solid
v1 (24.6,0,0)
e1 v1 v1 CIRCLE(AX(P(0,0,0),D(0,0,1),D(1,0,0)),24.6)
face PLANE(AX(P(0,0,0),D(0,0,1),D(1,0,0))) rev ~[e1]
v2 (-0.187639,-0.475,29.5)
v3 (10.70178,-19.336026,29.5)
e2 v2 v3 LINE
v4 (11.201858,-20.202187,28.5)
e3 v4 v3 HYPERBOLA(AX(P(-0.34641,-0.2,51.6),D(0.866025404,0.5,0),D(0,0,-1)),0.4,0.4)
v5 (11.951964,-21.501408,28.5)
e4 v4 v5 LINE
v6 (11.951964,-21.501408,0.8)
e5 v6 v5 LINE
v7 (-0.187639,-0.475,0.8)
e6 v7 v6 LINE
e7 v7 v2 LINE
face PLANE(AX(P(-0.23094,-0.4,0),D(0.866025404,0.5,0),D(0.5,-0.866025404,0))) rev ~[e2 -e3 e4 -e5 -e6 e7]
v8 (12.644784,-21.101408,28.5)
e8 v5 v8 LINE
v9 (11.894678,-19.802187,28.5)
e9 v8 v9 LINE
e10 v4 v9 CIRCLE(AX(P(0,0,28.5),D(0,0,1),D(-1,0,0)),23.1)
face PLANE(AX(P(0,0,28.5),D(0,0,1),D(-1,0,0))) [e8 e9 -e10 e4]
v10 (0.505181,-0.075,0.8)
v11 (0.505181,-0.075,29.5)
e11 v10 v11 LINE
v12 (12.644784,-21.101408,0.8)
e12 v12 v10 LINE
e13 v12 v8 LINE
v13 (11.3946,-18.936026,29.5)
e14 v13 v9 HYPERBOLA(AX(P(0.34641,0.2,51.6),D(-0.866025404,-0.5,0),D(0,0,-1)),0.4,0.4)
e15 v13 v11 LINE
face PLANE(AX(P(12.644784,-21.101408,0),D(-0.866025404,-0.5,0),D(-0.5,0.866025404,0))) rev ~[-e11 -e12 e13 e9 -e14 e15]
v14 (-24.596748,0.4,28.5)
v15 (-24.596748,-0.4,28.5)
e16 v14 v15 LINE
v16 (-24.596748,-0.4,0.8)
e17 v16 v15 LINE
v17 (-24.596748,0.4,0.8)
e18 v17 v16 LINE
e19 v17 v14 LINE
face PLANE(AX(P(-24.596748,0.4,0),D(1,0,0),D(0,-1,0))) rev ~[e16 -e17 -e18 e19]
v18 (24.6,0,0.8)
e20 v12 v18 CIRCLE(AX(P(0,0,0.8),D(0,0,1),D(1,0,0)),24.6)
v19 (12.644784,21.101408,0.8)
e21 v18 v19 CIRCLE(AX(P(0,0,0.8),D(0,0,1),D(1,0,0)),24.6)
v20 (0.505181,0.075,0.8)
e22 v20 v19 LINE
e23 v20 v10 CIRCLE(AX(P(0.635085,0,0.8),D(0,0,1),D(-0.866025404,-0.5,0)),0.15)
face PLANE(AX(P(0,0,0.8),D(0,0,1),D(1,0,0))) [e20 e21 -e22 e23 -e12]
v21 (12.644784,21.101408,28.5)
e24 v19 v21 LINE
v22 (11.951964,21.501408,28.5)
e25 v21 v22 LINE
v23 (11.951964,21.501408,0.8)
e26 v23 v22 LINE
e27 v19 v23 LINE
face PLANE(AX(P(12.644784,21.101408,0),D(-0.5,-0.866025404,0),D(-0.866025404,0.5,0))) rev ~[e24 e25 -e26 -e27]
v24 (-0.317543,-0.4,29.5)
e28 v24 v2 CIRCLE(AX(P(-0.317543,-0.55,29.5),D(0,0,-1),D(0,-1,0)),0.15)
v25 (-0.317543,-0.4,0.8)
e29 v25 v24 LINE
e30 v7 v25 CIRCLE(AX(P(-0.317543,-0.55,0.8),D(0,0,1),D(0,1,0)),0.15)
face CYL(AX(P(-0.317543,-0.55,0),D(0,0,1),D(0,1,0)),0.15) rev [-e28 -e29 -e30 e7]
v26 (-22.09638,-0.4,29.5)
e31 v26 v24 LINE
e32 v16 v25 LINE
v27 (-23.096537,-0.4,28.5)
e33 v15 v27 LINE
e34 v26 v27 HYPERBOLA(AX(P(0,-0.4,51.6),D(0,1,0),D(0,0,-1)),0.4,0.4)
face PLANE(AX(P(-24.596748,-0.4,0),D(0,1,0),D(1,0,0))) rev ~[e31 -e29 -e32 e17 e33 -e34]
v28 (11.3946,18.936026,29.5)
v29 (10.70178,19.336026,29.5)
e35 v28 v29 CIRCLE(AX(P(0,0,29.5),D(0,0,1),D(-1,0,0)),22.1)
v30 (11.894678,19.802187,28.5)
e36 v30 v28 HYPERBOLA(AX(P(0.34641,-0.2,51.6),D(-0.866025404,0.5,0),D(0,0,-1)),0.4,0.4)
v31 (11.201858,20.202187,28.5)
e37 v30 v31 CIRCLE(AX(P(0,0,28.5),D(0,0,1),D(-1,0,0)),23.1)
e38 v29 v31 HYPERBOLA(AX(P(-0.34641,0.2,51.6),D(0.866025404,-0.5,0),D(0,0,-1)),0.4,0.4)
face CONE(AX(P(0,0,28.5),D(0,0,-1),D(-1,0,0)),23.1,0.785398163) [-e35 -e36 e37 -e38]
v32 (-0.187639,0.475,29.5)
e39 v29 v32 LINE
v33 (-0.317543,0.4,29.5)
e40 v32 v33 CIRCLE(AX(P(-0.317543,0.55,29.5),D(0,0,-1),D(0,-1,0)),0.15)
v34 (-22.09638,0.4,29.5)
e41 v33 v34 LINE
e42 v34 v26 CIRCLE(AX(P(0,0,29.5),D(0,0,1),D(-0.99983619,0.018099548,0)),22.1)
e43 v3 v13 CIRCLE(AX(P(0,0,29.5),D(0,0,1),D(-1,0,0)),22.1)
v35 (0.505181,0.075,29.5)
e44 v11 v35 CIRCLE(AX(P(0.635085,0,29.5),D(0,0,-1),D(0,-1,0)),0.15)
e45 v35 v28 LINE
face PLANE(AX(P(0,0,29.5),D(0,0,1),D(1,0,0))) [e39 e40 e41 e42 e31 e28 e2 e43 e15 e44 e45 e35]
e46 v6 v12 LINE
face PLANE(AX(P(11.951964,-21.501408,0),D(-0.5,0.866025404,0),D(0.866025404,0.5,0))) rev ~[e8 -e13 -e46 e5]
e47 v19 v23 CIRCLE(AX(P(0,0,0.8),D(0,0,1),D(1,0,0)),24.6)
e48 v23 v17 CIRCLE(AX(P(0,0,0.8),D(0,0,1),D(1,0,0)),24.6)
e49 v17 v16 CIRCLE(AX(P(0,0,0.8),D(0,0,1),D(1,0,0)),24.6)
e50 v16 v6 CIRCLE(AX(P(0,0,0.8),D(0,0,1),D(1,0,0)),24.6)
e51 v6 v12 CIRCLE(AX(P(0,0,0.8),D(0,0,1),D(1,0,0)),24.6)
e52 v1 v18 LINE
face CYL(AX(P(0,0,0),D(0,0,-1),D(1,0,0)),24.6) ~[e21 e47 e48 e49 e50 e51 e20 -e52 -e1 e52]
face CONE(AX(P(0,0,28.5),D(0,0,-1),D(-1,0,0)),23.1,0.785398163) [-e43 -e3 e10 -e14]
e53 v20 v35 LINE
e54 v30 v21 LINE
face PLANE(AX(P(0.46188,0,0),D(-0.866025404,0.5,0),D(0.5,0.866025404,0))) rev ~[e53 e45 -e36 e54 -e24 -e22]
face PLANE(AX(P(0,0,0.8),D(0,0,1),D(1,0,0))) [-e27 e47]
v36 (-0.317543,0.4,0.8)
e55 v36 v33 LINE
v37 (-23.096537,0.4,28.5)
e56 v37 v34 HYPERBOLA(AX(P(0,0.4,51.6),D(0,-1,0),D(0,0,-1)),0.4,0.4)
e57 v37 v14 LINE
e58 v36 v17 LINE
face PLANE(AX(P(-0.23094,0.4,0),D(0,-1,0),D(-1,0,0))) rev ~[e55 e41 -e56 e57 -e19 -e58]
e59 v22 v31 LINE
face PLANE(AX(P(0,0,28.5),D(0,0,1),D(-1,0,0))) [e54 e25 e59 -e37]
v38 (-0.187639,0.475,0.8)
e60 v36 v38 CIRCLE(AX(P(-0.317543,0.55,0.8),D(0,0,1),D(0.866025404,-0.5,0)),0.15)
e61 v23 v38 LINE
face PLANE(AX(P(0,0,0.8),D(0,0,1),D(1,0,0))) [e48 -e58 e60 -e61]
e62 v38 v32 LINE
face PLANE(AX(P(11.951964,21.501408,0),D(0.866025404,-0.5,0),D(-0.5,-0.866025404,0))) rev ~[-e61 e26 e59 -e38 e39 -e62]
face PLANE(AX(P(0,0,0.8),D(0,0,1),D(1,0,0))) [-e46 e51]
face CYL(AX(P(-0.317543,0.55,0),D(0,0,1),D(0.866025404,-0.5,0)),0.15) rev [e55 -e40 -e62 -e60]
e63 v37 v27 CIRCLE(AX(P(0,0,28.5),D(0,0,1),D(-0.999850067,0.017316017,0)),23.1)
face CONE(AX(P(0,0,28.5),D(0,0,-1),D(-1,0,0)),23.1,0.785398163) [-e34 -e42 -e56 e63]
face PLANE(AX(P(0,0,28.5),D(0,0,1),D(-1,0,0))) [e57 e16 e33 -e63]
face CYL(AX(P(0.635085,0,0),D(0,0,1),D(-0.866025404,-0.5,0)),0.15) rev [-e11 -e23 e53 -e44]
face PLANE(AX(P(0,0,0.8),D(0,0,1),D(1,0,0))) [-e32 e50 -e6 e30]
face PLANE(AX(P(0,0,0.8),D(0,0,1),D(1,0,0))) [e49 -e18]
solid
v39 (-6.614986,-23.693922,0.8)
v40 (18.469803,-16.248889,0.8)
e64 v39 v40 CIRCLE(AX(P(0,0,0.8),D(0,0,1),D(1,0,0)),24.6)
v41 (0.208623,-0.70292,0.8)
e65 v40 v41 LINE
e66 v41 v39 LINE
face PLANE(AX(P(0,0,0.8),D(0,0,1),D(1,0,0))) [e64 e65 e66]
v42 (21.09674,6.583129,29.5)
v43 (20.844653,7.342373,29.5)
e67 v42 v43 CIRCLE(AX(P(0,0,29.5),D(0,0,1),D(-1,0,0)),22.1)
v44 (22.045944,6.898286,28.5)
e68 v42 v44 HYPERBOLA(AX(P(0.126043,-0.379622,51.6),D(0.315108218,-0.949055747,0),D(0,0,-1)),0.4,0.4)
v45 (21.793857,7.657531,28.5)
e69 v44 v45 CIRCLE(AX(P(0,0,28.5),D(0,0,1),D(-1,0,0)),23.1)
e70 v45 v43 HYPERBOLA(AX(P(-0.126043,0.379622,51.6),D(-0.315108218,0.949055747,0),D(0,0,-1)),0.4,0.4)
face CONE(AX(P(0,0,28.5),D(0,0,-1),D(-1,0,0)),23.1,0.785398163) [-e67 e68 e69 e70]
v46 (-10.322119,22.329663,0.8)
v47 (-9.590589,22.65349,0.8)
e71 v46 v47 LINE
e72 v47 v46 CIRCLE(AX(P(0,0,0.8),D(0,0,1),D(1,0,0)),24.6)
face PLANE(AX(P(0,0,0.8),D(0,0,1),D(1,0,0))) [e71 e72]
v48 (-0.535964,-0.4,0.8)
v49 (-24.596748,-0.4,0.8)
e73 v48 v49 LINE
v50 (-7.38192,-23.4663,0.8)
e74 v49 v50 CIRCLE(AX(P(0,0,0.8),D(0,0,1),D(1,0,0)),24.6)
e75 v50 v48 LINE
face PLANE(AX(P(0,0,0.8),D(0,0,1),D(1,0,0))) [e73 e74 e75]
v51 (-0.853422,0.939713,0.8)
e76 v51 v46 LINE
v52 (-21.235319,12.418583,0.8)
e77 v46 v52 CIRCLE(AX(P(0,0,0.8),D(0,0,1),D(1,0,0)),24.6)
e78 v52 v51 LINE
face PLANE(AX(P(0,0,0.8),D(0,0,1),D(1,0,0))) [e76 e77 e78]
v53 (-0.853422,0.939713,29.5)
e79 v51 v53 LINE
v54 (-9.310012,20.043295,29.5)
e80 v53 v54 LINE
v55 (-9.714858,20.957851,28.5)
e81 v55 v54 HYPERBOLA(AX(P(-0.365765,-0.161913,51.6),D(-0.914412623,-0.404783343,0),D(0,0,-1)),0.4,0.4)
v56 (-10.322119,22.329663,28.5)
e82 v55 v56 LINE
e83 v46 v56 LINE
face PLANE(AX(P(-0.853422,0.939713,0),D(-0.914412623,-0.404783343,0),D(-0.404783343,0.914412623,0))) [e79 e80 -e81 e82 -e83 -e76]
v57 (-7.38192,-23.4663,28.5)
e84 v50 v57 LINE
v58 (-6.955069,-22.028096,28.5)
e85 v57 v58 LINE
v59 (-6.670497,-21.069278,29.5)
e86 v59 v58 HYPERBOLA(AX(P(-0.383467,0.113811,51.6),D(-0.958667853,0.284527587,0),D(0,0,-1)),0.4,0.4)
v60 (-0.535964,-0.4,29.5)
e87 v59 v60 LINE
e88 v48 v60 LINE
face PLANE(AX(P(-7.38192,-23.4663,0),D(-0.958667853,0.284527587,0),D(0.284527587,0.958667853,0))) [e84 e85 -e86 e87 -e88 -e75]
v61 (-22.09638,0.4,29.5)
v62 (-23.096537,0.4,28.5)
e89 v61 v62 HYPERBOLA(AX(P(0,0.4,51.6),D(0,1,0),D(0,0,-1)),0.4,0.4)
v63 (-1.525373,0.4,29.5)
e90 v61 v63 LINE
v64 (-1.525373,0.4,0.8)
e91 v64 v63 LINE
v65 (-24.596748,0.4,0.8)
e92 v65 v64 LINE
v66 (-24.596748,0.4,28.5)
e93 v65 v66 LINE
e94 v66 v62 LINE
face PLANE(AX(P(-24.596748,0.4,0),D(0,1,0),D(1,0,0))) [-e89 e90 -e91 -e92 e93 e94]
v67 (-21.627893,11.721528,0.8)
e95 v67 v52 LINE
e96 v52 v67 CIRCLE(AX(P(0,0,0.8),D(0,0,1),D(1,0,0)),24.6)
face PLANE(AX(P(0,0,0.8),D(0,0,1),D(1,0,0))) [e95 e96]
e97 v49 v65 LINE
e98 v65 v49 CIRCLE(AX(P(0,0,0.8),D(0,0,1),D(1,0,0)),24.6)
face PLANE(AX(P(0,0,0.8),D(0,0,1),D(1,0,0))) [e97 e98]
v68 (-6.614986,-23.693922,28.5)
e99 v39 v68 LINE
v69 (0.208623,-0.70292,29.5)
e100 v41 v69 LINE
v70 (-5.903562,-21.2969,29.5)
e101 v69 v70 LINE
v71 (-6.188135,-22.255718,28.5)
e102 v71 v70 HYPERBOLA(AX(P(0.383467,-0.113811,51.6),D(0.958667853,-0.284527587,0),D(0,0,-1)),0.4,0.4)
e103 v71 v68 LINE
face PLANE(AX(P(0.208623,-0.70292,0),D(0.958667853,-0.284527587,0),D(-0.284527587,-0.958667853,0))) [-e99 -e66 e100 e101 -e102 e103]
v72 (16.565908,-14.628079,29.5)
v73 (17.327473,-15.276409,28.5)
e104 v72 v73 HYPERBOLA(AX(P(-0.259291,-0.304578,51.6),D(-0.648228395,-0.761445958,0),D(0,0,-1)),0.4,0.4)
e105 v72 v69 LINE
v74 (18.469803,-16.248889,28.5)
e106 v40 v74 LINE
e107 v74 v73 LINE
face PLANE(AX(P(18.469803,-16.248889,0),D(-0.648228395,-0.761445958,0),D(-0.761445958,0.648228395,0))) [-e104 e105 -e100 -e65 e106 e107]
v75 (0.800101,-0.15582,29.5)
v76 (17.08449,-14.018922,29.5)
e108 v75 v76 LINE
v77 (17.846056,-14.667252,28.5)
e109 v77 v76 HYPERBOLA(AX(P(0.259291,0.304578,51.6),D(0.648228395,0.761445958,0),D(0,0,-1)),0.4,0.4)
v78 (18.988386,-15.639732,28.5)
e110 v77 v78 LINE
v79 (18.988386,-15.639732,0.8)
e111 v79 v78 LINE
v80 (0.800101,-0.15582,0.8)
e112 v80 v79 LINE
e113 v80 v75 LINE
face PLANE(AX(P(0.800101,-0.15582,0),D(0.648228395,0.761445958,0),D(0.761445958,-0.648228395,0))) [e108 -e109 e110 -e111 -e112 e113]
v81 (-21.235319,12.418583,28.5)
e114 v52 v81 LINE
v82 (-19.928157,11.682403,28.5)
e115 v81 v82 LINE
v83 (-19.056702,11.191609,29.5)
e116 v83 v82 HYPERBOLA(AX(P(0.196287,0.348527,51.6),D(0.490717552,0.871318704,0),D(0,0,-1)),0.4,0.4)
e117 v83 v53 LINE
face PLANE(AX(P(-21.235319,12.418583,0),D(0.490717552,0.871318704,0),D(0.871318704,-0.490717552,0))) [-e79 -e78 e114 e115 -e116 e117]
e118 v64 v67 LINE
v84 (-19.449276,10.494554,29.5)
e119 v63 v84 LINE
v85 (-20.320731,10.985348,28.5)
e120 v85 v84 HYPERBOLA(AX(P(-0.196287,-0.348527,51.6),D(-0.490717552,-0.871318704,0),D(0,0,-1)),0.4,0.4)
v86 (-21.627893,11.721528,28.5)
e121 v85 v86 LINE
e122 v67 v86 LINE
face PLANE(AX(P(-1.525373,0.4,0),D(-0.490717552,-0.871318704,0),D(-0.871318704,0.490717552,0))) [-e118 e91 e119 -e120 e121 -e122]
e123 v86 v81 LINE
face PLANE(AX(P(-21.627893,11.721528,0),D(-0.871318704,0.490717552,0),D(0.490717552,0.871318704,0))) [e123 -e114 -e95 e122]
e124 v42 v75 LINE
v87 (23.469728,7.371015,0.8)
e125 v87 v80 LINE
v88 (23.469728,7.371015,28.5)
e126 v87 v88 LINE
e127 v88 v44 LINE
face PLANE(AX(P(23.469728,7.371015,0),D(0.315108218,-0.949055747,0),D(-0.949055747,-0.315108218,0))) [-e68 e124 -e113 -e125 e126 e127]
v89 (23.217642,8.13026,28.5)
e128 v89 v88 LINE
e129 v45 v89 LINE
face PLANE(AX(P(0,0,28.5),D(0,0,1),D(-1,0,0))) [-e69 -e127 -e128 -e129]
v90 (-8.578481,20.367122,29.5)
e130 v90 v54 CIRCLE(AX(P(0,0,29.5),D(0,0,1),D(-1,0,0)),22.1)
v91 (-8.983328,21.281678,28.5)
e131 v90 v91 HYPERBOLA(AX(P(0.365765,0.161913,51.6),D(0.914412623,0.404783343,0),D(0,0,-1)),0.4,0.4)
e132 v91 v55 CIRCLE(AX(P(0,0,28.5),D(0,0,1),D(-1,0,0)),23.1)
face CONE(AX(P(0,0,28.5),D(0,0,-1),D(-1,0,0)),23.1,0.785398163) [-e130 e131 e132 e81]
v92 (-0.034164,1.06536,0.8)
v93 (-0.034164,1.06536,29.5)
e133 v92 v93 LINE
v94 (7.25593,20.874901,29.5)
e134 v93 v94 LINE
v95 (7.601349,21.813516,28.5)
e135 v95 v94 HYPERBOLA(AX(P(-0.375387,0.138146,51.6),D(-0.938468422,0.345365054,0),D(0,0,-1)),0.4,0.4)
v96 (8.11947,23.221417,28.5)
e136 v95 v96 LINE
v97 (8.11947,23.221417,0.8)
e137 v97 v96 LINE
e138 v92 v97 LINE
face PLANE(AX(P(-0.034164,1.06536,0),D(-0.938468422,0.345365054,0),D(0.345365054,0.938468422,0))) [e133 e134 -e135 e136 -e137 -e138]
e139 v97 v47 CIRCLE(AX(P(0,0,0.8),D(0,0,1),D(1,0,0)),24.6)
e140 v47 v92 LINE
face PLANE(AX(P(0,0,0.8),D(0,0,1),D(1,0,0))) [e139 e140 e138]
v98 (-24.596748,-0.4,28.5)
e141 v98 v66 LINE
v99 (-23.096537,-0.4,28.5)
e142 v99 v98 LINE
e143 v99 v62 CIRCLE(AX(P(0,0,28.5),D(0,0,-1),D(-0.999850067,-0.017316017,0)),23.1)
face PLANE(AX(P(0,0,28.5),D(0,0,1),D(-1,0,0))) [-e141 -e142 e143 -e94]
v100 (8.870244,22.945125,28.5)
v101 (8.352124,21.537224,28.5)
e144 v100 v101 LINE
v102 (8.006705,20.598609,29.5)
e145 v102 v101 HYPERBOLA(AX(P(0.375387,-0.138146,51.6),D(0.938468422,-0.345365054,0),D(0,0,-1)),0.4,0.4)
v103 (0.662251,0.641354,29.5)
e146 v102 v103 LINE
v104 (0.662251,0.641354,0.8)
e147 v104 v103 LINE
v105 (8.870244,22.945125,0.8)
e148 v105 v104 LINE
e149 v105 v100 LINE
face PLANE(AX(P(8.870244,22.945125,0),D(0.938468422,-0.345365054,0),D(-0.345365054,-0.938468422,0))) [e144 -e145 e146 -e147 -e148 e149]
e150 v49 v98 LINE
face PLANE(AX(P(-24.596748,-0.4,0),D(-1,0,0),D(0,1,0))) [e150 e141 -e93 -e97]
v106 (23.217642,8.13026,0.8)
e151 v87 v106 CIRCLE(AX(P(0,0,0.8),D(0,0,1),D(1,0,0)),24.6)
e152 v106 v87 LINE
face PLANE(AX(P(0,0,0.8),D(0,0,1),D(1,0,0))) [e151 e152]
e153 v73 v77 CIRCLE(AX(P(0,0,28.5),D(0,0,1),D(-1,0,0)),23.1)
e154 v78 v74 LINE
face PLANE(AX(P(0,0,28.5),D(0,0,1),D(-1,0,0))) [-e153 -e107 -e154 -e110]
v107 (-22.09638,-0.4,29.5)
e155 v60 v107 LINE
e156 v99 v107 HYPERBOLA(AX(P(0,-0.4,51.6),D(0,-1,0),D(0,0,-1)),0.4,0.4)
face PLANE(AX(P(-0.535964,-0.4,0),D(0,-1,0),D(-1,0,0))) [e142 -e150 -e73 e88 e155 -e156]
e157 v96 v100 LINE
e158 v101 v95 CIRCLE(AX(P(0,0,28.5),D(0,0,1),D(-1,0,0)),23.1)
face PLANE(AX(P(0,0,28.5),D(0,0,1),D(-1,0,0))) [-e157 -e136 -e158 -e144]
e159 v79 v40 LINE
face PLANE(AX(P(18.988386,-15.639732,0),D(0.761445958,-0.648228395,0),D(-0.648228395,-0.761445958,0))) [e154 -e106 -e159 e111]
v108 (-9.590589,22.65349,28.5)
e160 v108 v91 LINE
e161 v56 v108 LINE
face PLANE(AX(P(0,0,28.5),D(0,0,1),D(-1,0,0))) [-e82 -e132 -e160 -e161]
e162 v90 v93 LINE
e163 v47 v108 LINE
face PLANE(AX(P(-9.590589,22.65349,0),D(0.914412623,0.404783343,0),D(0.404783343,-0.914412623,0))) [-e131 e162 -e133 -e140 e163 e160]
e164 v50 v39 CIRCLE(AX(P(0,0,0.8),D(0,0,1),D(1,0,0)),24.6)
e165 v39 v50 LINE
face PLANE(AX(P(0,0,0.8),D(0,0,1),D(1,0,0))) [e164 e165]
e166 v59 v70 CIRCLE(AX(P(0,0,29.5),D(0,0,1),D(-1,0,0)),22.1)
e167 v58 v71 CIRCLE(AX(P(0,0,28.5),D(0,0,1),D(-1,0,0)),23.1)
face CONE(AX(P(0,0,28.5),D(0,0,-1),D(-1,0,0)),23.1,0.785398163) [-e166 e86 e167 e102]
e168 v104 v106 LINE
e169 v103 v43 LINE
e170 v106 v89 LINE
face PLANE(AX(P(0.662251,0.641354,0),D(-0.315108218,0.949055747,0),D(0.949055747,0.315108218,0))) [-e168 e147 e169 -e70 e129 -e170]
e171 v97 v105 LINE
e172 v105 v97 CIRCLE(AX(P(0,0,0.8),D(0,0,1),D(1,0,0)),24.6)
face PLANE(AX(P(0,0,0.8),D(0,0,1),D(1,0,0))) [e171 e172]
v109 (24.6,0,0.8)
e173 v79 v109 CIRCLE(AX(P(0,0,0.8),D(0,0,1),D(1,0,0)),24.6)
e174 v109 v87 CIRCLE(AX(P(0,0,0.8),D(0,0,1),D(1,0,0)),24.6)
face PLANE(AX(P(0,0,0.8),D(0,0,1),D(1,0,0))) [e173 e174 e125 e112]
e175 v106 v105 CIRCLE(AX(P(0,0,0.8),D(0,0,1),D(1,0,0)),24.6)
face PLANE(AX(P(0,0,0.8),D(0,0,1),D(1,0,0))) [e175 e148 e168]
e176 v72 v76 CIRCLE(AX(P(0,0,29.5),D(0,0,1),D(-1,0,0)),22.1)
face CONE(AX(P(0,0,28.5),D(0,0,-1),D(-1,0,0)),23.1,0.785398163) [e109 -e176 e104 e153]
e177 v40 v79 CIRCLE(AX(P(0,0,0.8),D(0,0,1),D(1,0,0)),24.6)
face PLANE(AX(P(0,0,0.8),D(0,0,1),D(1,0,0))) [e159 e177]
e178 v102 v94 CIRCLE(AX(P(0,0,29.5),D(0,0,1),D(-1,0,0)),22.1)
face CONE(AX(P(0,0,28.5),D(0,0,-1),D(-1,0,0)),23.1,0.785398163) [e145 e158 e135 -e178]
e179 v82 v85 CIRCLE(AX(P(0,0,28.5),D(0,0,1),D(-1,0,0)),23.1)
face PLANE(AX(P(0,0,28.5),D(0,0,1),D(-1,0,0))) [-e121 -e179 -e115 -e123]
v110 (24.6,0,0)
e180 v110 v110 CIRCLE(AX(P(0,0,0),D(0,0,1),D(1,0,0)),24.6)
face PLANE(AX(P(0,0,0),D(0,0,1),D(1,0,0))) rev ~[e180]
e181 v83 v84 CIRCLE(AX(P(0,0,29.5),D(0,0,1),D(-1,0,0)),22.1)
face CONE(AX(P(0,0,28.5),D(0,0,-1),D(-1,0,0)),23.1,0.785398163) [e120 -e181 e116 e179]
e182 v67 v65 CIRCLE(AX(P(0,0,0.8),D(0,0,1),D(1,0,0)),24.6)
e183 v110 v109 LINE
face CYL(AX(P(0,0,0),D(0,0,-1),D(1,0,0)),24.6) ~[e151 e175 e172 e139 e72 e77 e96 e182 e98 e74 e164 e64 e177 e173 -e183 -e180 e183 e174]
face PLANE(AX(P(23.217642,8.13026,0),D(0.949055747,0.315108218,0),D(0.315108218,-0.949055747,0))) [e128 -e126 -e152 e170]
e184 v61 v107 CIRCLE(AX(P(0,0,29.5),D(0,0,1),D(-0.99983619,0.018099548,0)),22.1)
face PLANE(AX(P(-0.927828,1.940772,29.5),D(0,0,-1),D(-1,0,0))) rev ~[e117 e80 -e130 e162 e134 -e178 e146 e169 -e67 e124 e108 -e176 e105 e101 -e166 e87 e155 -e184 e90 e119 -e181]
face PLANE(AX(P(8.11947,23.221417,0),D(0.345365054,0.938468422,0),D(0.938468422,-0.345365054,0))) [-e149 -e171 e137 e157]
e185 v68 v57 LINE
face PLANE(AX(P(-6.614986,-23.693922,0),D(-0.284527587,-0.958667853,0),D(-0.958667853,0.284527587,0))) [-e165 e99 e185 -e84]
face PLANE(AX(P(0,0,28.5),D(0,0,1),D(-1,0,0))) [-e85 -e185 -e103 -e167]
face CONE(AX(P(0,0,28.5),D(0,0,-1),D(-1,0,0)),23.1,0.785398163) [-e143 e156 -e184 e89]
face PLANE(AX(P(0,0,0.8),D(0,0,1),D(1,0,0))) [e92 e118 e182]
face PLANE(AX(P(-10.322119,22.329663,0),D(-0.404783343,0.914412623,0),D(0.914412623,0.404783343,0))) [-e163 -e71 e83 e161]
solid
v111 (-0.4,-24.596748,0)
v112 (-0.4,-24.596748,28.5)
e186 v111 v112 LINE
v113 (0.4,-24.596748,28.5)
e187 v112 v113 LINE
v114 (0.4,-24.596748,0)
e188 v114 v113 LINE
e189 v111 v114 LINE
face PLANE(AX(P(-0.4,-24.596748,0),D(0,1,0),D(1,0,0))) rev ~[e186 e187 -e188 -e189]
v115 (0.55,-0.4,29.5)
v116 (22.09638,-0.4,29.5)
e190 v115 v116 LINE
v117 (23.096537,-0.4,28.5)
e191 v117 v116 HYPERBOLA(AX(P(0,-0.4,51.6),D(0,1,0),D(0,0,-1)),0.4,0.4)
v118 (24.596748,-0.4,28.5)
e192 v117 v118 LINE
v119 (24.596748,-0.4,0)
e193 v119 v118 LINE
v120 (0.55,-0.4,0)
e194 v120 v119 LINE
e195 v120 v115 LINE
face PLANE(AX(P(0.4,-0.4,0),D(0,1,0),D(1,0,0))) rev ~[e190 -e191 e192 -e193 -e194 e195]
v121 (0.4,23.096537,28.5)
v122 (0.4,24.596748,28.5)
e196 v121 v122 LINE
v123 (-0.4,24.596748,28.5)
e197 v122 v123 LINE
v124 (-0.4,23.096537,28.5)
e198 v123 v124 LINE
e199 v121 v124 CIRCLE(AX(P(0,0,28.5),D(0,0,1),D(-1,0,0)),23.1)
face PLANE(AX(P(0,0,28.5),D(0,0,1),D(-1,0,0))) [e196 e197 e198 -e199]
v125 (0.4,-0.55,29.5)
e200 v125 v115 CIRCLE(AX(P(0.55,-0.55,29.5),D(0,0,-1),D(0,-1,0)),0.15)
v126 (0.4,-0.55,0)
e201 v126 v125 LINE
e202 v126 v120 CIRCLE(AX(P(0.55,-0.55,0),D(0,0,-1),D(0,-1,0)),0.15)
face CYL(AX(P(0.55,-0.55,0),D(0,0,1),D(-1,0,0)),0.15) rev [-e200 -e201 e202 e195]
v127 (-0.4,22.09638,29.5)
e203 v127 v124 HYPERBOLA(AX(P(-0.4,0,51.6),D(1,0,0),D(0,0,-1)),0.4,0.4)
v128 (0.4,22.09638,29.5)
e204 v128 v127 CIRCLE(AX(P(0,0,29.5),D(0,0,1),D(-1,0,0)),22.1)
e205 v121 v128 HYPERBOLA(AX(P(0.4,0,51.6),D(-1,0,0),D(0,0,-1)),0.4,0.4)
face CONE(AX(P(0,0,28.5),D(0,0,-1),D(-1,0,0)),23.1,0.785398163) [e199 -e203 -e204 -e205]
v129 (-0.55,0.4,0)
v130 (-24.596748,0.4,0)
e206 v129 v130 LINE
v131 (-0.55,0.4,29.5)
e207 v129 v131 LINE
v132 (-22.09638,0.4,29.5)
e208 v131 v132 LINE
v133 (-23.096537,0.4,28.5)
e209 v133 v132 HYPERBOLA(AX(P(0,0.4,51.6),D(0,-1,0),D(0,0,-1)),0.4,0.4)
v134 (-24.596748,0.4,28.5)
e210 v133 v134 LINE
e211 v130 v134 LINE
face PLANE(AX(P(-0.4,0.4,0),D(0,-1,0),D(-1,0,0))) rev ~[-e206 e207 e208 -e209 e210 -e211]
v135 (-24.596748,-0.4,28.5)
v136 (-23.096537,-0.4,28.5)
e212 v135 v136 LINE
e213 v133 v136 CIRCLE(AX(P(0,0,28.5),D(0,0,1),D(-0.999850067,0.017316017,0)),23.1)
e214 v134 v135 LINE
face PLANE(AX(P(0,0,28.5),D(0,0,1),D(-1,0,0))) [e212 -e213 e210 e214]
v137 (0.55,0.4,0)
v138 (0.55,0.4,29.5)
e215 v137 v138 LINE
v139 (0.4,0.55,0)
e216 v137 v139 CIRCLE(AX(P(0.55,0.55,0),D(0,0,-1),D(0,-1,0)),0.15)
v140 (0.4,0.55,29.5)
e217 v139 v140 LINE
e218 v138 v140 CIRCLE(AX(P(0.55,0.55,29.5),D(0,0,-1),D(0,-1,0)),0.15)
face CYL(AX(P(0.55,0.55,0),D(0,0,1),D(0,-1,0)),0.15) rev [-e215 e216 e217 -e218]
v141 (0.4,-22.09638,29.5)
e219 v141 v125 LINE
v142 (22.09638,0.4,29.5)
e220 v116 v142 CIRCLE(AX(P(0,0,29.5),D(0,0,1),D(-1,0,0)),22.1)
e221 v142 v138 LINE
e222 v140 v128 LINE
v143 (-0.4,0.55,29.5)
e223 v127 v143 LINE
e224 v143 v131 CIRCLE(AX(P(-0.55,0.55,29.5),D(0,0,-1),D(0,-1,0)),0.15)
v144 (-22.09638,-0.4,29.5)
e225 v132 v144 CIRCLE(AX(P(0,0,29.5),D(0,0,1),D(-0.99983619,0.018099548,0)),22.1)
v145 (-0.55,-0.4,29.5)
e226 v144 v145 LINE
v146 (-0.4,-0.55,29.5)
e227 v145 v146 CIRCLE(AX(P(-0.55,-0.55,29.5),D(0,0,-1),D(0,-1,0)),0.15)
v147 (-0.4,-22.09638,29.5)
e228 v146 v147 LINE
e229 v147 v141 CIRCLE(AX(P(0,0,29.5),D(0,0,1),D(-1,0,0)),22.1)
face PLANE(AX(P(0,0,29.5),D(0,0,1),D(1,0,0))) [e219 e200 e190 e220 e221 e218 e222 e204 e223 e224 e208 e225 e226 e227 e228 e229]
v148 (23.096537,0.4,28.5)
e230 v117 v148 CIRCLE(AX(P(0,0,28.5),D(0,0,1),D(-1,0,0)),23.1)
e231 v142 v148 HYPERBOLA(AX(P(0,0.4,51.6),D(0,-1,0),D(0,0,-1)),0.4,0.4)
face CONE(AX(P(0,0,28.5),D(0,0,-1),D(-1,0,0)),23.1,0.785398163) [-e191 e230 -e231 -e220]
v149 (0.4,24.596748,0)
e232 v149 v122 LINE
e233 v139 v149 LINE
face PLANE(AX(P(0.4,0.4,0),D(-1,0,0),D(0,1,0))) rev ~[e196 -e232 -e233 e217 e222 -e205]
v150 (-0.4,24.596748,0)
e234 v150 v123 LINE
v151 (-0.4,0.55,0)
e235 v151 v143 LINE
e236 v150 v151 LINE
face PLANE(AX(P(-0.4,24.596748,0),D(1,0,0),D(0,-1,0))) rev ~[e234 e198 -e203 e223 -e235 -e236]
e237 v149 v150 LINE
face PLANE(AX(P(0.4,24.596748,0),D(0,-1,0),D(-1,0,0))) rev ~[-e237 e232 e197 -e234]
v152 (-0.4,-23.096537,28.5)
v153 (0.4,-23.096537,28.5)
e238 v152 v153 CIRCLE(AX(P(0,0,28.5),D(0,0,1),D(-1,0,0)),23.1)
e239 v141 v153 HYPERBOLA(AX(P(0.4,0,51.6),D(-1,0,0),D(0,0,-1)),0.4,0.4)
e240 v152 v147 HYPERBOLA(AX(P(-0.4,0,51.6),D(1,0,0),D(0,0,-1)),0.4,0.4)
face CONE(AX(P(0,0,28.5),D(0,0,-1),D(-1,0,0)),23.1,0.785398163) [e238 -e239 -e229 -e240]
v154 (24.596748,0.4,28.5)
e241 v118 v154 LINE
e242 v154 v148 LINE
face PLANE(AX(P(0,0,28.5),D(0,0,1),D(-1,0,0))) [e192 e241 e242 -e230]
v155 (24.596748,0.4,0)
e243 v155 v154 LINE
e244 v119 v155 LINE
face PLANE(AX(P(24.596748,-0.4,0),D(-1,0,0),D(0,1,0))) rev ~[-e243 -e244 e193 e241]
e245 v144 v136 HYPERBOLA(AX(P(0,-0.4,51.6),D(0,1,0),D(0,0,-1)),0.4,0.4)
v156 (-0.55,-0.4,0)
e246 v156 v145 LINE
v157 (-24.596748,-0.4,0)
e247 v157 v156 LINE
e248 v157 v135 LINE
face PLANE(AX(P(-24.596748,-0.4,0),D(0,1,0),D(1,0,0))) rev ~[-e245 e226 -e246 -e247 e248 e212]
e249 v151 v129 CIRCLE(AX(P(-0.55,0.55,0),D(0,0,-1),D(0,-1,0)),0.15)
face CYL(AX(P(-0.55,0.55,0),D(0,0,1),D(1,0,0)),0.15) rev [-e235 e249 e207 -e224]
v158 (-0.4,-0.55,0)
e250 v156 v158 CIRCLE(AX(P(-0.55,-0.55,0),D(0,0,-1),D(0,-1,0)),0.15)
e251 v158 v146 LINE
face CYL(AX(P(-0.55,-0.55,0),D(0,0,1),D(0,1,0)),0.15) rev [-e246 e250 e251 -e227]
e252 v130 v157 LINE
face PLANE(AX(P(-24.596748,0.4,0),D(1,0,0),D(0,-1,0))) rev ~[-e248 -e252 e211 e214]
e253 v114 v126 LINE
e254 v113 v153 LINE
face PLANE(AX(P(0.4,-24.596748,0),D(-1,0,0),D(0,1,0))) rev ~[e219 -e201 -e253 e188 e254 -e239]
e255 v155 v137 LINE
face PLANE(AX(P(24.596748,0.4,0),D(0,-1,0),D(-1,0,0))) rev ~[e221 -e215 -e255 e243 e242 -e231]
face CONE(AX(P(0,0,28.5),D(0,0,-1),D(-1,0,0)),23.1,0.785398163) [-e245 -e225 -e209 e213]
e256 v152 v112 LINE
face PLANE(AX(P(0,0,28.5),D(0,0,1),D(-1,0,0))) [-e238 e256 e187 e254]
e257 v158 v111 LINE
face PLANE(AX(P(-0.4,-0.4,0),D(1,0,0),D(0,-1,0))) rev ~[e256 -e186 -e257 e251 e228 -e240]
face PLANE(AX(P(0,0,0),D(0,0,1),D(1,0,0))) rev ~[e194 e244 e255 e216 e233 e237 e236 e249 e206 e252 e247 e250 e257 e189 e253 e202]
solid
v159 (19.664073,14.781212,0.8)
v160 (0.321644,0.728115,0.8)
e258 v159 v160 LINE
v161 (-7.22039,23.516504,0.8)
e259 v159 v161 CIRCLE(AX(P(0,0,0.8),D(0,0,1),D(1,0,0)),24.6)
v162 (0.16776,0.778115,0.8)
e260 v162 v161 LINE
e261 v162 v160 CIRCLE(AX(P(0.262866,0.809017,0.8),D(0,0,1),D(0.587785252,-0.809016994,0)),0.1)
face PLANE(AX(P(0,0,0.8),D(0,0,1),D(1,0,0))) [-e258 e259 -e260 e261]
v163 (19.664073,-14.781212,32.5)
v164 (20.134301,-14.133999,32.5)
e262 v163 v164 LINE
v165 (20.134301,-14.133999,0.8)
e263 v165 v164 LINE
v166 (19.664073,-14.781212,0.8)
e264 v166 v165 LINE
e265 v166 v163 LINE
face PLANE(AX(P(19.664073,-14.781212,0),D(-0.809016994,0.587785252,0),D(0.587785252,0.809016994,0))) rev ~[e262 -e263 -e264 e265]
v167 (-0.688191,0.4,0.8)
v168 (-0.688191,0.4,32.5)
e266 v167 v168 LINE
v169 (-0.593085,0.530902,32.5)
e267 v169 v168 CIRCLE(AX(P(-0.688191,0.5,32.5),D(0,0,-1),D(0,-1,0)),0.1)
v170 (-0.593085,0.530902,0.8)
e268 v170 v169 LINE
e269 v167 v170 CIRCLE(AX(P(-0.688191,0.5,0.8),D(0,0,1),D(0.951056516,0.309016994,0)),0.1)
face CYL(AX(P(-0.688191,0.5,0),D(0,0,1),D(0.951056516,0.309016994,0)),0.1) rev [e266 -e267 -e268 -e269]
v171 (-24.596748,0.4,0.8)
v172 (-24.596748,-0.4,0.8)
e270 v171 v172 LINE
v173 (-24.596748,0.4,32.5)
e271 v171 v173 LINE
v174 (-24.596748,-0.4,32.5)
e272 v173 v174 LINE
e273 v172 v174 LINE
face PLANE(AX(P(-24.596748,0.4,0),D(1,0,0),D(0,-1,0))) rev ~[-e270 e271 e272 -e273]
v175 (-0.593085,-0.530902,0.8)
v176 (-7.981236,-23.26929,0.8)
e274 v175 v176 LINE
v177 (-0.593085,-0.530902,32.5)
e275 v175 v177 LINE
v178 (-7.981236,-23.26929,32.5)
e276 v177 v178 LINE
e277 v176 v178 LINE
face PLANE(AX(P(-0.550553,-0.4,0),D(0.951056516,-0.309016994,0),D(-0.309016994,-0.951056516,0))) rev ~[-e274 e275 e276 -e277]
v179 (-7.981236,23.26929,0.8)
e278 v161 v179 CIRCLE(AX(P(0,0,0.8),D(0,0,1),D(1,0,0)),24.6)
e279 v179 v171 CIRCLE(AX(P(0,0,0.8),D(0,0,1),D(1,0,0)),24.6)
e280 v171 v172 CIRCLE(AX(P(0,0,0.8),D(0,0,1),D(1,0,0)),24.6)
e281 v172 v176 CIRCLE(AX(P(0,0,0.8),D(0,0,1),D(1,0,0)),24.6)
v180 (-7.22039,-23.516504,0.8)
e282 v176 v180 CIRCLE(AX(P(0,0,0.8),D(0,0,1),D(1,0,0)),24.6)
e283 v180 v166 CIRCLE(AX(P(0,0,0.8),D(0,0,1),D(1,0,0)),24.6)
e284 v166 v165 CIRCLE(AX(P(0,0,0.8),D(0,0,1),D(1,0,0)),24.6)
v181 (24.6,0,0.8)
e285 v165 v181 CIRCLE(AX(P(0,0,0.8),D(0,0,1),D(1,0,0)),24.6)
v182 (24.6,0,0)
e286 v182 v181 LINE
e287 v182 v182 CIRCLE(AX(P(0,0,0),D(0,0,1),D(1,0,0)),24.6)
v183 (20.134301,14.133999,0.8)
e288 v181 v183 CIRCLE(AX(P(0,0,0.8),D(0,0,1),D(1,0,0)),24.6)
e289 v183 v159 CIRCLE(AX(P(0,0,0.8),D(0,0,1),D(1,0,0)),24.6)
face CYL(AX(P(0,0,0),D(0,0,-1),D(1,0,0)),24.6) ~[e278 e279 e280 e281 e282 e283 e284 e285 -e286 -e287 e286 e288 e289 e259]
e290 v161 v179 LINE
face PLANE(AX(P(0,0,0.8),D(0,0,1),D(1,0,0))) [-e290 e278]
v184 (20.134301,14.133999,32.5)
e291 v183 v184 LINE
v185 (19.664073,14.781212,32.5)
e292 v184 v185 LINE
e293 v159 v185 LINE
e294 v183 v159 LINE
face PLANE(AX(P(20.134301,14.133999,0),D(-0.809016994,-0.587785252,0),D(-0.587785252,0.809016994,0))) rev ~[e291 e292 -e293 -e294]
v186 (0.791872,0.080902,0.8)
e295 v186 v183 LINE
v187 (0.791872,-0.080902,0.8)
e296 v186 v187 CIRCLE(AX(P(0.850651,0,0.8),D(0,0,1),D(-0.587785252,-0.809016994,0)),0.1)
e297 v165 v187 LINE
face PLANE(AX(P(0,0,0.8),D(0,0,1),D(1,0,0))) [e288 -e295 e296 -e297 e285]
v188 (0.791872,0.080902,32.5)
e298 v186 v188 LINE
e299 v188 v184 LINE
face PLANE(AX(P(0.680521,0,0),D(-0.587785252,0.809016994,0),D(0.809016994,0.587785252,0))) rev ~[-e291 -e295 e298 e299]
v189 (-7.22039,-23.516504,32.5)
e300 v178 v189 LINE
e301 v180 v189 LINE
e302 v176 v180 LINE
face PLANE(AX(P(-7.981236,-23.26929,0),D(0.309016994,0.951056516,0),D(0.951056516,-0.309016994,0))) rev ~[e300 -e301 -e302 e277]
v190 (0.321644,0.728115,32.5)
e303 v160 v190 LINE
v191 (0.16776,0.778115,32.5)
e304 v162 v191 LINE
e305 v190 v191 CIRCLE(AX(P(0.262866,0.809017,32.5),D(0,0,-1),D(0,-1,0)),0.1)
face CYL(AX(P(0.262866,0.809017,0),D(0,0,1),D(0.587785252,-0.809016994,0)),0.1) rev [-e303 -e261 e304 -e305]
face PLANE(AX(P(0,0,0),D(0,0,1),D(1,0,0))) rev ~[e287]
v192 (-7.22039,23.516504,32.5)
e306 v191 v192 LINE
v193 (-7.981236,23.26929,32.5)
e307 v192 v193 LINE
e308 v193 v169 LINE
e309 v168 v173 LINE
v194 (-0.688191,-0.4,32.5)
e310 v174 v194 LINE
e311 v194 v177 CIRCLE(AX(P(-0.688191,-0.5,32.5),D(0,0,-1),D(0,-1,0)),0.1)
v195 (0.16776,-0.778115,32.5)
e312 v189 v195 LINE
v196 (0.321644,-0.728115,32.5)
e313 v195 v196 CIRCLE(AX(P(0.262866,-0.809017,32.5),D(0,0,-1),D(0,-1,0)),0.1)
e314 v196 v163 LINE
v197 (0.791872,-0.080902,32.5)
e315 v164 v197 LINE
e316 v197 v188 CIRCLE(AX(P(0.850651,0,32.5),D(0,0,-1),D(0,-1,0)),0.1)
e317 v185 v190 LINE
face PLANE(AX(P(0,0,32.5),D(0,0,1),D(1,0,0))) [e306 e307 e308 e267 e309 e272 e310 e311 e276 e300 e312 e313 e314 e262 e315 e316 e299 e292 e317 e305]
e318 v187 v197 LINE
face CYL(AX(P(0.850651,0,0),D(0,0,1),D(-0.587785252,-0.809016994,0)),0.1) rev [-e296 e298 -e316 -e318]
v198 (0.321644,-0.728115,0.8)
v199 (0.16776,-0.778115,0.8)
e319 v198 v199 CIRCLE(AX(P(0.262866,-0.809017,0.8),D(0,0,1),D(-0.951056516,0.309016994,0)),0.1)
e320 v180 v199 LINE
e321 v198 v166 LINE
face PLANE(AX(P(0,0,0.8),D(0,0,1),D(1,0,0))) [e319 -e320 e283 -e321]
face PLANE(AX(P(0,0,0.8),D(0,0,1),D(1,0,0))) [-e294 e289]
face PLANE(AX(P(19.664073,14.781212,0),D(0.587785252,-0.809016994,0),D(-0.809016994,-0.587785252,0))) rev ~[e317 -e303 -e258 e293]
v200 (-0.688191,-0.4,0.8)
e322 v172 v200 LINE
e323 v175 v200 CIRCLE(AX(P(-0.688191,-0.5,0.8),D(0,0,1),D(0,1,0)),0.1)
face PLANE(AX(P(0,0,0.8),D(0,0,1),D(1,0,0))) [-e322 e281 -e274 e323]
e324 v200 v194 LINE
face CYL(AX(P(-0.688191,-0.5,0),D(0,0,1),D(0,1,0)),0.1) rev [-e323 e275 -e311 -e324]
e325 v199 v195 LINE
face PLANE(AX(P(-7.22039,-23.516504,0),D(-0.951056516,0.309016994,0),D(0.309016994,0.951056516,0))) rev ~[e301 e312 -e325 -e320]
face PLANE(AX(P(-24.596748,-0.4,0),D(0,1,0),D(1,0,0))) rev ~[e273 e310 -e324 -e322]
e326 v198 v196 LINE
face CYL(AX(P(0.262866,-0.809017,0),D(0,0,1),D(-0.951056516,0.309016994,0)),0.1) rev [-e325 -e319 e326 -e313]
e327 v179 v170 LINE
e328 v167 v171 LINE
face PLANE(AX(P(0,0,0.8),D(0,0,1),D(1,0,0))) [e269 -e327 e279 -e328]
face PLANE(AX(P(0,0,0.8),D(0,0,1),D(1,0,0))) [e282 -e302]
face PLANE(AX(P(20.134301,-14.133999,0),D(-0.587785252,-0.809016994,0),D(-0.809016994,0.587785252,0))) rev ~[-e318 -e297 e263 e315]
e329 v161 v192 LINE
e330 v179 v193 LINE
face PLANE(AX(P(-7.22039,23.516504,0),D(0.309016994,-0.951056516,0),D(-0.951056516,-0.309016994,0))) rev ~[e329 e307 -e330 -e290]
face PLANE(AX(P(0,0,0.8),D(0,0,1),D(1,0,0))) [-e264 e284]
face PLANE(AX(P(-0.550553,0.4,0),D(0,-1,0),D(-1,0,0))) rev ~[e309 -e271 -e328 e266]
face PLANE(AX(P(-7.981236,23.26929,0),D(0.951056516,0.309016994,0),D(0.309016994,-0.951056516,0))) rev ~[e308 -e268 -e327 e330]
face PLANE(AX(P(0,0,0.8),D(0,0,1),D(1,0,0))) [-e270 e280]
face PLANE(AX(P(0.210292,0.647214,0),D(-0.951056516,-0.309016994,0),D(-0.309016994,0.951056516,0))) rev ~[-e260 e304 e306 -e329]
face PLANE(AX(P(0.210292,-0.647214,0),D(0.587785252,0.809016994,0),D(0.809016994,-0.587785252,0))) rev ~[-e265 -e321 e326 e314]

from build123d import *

# Parameters (mm, degrees)
PAD_DEPTH    = 32.5
FILLET_R     = 0.1
SKETCH006_R  = 24.6
PAD002_DEPTH = 0.8
PAD001_DEPTH = 29.5
FILLET001_R  = 0.15
PAD004_DEPTH = 29.5
SKETCH011_R  = 24.6
PAD005_DEPTH = 0.8
PAD006_DEPTH = 29.5
FILLET002_R  = 0.15
SKETCH014_R  = 24.6
PAD007_DEPTH = 0.8


with BuildPart() as body:
    # Sketch004 → Pad (new body)
    with BuildSketch(Plane.XY):
        Polygon((-7.9812356684, 23.2692904319), (-0.5505527682, 0.4), (-24.5967477525, 0.4), (-24.5967477525, -0.4), (-0.5505527682, -0.4), (-7.9812356684, -23.2692904319), (-7.2203904554, -23.5165040274), (0.2102924448, -0.6472135955), (19.6640728372, -14.781212381), (20.134301039, -14.1339987855), (0.6805206467, 0), (20.134301039, 14.1339987855), (19.6640728372, 14.781212381), (0.2102924448, 0.6472135955), (-7.2203904554, 23.5165040274), align=None)
    extrude(amount=PAD_DEPTH)

    # Fillet
    fillet_edges = [body.edges().sort_by_distance(p)[0] for p in [
        (0.210292, 0.647214, 16.25),
        (-0.550553, 0.4, 16.25),
        (-0.550553, -0.4, 16.25),
        (0.210292, -0.647214, 16.25),
        (0.680521, 0, 16.25),
    ]]
    fillet(fillet_edges, radius=FILLET_R)

    # Sketch006 → Pad002 (join)
    with BuildSketch(Plane.XY):
        Circle(SKETCH006_R)
    extrude(amount=PAD002_DEPTH)


with BuildPart() as body001:
    # Sketch001 → Pad001 (new body)
    with BuildSketch(Plane.XY):
        Polygon((-0.4, 24.5967477525), (-0.4, 0.4), (-24.5967477525, 0.4), (-24.5967477525, -0.4), (-0.4, -0.4), (-0.4, -24.5967477525), (0.4, -24.5967477525), (0.4, -0.4), (24.5967477525, -0.4), (24.5967477525, 0.4), (0.4, 0.4), (0.4, 24.5967477525), align=None)
    extrude(amount=PAD001_DEPTH)

    # Fillet001
    fillet001_edges = [body001.edges().sort_by_distance(p)[0] for p in [
        (0.4, 0.4, 14.75),
        (-0.4, 0.4, 14.75),
        (-0.4, -0.4, 14.75),
        (0.4, -0.4, 14.75),
    ]]
    fillet(fillet001_edges, radius=FILLET001_R)

    # Sketch007 → Groove001 (revolve, cut)
    with BuildSketch(Plane.XZ):
        Polygon((-24.6, 28.5), (-23.1, 28.5), (-22.1, 29.5), (-24.6, 29.5), align=None)
    revolve(axis=Axis((0, 0, 0), (0, 0, 1)), mode=Mode.SUBTRACT)


with BuildPart() as growing:
    # Sketch009 → Pad004 (new body)
    with BuildSketch(Plane.XY):
        Polygon((-24.5967477525, -0.4), (-24.5967477525, 0.4), (-1.5253733611, 0.4), (-21.6278933982, 11.7215283627), (-21.2353193566, 12.418583326), (-0.8534222236, 0.9397127142), (-10.3221188344, 22.3296632928), (-9.590588736, 22.6534899673), (-0.0341640242, 1.0653600804), (8.1194697573, 23.2214170726), (8.8702444949, 22.9451250291), (0.6622505389, 0.6413538816), (23.2176415251, 8.1302596523), (23.4697280995, 7.3710150547), (0.8001011197, -0.1558196791), (18.9883855233, -15.639731942), (18.469802807, -16.2488887087), (0.2086228294, -0.7029195389), (-6.6149861358, -23.6939223942), (-7.3819204182, -23.4663003249), (-0.5359635593, -0.4), align=None)
    extrude(amount=PAD004_DEPTH)

    # Sketch010 → Groove002 (revolve, cut)
    with BuildSketch(Plane.XZ):
        Polygon((-24.6, 28.5), (-23.1, 28.5), (-22.1, 29.5), (-24.6, 29.5), align=None)
    revolve(axis=Axis((0, 0, 0), (0, 0, 1)), mode=Mode.SUBTRACT)

    # Sketch011 → Pad005 (join)
    with BuildSketch(Plane.XY):
        Circle(SKETCH011_R)
    extrude(amount=PAD005_DEPTH)


with BuildPart() as body004:
    # Sketch012 → Pad006 (new body)
    with BuildSketch(Plane.XY):
        Polygon((11.9519637147, 21.5014084041), (-0.2309401077, 0.4), (-24.5967477525, 0.4), (-24.5967477525, -0.4), (-0.2309401077, -0.4), (11.9519637147, -21.5014084041), (12.6447840378, -21.1014084041), (0.4618802154, 0), (12.6447840378, 21.1014084041), align=None)
    extrude(amount=PAD006_DEPTH)

    # Fillet002
    fillet002_edges = [body004.edges().sort_by_distance(p)[0] for p in [
        (-0.23094, 0.4, 14.75),
        (-0.23094, -0.4, 14.75),
        (0.46188, 0, 14.75),
    ]]
    fillet(fillet002_edges, radius=FILLET002_R)

    # Sketch013 → Groove003 (revolve, cut)
    with BuildSketch(Plane.XZ):
        Polygon((-24.6, 28.5), (-23.1, 28.5), (-22.1, 29.5), (-24.6, 29.5), align=None)
    revolve(axis=Axis((0, 0, 0), (0, 0, 1)), mode=Mode.SUBTRACT)

    # Sketch014 → Pad007 (join)
    with BuildSketch(Plane.XY):
        Circle(SKETCH014_R)
    extrude(amount=PAD007_DEPTH)


solid = Compound([body.part, body001.part, growing.part, body004.part])
